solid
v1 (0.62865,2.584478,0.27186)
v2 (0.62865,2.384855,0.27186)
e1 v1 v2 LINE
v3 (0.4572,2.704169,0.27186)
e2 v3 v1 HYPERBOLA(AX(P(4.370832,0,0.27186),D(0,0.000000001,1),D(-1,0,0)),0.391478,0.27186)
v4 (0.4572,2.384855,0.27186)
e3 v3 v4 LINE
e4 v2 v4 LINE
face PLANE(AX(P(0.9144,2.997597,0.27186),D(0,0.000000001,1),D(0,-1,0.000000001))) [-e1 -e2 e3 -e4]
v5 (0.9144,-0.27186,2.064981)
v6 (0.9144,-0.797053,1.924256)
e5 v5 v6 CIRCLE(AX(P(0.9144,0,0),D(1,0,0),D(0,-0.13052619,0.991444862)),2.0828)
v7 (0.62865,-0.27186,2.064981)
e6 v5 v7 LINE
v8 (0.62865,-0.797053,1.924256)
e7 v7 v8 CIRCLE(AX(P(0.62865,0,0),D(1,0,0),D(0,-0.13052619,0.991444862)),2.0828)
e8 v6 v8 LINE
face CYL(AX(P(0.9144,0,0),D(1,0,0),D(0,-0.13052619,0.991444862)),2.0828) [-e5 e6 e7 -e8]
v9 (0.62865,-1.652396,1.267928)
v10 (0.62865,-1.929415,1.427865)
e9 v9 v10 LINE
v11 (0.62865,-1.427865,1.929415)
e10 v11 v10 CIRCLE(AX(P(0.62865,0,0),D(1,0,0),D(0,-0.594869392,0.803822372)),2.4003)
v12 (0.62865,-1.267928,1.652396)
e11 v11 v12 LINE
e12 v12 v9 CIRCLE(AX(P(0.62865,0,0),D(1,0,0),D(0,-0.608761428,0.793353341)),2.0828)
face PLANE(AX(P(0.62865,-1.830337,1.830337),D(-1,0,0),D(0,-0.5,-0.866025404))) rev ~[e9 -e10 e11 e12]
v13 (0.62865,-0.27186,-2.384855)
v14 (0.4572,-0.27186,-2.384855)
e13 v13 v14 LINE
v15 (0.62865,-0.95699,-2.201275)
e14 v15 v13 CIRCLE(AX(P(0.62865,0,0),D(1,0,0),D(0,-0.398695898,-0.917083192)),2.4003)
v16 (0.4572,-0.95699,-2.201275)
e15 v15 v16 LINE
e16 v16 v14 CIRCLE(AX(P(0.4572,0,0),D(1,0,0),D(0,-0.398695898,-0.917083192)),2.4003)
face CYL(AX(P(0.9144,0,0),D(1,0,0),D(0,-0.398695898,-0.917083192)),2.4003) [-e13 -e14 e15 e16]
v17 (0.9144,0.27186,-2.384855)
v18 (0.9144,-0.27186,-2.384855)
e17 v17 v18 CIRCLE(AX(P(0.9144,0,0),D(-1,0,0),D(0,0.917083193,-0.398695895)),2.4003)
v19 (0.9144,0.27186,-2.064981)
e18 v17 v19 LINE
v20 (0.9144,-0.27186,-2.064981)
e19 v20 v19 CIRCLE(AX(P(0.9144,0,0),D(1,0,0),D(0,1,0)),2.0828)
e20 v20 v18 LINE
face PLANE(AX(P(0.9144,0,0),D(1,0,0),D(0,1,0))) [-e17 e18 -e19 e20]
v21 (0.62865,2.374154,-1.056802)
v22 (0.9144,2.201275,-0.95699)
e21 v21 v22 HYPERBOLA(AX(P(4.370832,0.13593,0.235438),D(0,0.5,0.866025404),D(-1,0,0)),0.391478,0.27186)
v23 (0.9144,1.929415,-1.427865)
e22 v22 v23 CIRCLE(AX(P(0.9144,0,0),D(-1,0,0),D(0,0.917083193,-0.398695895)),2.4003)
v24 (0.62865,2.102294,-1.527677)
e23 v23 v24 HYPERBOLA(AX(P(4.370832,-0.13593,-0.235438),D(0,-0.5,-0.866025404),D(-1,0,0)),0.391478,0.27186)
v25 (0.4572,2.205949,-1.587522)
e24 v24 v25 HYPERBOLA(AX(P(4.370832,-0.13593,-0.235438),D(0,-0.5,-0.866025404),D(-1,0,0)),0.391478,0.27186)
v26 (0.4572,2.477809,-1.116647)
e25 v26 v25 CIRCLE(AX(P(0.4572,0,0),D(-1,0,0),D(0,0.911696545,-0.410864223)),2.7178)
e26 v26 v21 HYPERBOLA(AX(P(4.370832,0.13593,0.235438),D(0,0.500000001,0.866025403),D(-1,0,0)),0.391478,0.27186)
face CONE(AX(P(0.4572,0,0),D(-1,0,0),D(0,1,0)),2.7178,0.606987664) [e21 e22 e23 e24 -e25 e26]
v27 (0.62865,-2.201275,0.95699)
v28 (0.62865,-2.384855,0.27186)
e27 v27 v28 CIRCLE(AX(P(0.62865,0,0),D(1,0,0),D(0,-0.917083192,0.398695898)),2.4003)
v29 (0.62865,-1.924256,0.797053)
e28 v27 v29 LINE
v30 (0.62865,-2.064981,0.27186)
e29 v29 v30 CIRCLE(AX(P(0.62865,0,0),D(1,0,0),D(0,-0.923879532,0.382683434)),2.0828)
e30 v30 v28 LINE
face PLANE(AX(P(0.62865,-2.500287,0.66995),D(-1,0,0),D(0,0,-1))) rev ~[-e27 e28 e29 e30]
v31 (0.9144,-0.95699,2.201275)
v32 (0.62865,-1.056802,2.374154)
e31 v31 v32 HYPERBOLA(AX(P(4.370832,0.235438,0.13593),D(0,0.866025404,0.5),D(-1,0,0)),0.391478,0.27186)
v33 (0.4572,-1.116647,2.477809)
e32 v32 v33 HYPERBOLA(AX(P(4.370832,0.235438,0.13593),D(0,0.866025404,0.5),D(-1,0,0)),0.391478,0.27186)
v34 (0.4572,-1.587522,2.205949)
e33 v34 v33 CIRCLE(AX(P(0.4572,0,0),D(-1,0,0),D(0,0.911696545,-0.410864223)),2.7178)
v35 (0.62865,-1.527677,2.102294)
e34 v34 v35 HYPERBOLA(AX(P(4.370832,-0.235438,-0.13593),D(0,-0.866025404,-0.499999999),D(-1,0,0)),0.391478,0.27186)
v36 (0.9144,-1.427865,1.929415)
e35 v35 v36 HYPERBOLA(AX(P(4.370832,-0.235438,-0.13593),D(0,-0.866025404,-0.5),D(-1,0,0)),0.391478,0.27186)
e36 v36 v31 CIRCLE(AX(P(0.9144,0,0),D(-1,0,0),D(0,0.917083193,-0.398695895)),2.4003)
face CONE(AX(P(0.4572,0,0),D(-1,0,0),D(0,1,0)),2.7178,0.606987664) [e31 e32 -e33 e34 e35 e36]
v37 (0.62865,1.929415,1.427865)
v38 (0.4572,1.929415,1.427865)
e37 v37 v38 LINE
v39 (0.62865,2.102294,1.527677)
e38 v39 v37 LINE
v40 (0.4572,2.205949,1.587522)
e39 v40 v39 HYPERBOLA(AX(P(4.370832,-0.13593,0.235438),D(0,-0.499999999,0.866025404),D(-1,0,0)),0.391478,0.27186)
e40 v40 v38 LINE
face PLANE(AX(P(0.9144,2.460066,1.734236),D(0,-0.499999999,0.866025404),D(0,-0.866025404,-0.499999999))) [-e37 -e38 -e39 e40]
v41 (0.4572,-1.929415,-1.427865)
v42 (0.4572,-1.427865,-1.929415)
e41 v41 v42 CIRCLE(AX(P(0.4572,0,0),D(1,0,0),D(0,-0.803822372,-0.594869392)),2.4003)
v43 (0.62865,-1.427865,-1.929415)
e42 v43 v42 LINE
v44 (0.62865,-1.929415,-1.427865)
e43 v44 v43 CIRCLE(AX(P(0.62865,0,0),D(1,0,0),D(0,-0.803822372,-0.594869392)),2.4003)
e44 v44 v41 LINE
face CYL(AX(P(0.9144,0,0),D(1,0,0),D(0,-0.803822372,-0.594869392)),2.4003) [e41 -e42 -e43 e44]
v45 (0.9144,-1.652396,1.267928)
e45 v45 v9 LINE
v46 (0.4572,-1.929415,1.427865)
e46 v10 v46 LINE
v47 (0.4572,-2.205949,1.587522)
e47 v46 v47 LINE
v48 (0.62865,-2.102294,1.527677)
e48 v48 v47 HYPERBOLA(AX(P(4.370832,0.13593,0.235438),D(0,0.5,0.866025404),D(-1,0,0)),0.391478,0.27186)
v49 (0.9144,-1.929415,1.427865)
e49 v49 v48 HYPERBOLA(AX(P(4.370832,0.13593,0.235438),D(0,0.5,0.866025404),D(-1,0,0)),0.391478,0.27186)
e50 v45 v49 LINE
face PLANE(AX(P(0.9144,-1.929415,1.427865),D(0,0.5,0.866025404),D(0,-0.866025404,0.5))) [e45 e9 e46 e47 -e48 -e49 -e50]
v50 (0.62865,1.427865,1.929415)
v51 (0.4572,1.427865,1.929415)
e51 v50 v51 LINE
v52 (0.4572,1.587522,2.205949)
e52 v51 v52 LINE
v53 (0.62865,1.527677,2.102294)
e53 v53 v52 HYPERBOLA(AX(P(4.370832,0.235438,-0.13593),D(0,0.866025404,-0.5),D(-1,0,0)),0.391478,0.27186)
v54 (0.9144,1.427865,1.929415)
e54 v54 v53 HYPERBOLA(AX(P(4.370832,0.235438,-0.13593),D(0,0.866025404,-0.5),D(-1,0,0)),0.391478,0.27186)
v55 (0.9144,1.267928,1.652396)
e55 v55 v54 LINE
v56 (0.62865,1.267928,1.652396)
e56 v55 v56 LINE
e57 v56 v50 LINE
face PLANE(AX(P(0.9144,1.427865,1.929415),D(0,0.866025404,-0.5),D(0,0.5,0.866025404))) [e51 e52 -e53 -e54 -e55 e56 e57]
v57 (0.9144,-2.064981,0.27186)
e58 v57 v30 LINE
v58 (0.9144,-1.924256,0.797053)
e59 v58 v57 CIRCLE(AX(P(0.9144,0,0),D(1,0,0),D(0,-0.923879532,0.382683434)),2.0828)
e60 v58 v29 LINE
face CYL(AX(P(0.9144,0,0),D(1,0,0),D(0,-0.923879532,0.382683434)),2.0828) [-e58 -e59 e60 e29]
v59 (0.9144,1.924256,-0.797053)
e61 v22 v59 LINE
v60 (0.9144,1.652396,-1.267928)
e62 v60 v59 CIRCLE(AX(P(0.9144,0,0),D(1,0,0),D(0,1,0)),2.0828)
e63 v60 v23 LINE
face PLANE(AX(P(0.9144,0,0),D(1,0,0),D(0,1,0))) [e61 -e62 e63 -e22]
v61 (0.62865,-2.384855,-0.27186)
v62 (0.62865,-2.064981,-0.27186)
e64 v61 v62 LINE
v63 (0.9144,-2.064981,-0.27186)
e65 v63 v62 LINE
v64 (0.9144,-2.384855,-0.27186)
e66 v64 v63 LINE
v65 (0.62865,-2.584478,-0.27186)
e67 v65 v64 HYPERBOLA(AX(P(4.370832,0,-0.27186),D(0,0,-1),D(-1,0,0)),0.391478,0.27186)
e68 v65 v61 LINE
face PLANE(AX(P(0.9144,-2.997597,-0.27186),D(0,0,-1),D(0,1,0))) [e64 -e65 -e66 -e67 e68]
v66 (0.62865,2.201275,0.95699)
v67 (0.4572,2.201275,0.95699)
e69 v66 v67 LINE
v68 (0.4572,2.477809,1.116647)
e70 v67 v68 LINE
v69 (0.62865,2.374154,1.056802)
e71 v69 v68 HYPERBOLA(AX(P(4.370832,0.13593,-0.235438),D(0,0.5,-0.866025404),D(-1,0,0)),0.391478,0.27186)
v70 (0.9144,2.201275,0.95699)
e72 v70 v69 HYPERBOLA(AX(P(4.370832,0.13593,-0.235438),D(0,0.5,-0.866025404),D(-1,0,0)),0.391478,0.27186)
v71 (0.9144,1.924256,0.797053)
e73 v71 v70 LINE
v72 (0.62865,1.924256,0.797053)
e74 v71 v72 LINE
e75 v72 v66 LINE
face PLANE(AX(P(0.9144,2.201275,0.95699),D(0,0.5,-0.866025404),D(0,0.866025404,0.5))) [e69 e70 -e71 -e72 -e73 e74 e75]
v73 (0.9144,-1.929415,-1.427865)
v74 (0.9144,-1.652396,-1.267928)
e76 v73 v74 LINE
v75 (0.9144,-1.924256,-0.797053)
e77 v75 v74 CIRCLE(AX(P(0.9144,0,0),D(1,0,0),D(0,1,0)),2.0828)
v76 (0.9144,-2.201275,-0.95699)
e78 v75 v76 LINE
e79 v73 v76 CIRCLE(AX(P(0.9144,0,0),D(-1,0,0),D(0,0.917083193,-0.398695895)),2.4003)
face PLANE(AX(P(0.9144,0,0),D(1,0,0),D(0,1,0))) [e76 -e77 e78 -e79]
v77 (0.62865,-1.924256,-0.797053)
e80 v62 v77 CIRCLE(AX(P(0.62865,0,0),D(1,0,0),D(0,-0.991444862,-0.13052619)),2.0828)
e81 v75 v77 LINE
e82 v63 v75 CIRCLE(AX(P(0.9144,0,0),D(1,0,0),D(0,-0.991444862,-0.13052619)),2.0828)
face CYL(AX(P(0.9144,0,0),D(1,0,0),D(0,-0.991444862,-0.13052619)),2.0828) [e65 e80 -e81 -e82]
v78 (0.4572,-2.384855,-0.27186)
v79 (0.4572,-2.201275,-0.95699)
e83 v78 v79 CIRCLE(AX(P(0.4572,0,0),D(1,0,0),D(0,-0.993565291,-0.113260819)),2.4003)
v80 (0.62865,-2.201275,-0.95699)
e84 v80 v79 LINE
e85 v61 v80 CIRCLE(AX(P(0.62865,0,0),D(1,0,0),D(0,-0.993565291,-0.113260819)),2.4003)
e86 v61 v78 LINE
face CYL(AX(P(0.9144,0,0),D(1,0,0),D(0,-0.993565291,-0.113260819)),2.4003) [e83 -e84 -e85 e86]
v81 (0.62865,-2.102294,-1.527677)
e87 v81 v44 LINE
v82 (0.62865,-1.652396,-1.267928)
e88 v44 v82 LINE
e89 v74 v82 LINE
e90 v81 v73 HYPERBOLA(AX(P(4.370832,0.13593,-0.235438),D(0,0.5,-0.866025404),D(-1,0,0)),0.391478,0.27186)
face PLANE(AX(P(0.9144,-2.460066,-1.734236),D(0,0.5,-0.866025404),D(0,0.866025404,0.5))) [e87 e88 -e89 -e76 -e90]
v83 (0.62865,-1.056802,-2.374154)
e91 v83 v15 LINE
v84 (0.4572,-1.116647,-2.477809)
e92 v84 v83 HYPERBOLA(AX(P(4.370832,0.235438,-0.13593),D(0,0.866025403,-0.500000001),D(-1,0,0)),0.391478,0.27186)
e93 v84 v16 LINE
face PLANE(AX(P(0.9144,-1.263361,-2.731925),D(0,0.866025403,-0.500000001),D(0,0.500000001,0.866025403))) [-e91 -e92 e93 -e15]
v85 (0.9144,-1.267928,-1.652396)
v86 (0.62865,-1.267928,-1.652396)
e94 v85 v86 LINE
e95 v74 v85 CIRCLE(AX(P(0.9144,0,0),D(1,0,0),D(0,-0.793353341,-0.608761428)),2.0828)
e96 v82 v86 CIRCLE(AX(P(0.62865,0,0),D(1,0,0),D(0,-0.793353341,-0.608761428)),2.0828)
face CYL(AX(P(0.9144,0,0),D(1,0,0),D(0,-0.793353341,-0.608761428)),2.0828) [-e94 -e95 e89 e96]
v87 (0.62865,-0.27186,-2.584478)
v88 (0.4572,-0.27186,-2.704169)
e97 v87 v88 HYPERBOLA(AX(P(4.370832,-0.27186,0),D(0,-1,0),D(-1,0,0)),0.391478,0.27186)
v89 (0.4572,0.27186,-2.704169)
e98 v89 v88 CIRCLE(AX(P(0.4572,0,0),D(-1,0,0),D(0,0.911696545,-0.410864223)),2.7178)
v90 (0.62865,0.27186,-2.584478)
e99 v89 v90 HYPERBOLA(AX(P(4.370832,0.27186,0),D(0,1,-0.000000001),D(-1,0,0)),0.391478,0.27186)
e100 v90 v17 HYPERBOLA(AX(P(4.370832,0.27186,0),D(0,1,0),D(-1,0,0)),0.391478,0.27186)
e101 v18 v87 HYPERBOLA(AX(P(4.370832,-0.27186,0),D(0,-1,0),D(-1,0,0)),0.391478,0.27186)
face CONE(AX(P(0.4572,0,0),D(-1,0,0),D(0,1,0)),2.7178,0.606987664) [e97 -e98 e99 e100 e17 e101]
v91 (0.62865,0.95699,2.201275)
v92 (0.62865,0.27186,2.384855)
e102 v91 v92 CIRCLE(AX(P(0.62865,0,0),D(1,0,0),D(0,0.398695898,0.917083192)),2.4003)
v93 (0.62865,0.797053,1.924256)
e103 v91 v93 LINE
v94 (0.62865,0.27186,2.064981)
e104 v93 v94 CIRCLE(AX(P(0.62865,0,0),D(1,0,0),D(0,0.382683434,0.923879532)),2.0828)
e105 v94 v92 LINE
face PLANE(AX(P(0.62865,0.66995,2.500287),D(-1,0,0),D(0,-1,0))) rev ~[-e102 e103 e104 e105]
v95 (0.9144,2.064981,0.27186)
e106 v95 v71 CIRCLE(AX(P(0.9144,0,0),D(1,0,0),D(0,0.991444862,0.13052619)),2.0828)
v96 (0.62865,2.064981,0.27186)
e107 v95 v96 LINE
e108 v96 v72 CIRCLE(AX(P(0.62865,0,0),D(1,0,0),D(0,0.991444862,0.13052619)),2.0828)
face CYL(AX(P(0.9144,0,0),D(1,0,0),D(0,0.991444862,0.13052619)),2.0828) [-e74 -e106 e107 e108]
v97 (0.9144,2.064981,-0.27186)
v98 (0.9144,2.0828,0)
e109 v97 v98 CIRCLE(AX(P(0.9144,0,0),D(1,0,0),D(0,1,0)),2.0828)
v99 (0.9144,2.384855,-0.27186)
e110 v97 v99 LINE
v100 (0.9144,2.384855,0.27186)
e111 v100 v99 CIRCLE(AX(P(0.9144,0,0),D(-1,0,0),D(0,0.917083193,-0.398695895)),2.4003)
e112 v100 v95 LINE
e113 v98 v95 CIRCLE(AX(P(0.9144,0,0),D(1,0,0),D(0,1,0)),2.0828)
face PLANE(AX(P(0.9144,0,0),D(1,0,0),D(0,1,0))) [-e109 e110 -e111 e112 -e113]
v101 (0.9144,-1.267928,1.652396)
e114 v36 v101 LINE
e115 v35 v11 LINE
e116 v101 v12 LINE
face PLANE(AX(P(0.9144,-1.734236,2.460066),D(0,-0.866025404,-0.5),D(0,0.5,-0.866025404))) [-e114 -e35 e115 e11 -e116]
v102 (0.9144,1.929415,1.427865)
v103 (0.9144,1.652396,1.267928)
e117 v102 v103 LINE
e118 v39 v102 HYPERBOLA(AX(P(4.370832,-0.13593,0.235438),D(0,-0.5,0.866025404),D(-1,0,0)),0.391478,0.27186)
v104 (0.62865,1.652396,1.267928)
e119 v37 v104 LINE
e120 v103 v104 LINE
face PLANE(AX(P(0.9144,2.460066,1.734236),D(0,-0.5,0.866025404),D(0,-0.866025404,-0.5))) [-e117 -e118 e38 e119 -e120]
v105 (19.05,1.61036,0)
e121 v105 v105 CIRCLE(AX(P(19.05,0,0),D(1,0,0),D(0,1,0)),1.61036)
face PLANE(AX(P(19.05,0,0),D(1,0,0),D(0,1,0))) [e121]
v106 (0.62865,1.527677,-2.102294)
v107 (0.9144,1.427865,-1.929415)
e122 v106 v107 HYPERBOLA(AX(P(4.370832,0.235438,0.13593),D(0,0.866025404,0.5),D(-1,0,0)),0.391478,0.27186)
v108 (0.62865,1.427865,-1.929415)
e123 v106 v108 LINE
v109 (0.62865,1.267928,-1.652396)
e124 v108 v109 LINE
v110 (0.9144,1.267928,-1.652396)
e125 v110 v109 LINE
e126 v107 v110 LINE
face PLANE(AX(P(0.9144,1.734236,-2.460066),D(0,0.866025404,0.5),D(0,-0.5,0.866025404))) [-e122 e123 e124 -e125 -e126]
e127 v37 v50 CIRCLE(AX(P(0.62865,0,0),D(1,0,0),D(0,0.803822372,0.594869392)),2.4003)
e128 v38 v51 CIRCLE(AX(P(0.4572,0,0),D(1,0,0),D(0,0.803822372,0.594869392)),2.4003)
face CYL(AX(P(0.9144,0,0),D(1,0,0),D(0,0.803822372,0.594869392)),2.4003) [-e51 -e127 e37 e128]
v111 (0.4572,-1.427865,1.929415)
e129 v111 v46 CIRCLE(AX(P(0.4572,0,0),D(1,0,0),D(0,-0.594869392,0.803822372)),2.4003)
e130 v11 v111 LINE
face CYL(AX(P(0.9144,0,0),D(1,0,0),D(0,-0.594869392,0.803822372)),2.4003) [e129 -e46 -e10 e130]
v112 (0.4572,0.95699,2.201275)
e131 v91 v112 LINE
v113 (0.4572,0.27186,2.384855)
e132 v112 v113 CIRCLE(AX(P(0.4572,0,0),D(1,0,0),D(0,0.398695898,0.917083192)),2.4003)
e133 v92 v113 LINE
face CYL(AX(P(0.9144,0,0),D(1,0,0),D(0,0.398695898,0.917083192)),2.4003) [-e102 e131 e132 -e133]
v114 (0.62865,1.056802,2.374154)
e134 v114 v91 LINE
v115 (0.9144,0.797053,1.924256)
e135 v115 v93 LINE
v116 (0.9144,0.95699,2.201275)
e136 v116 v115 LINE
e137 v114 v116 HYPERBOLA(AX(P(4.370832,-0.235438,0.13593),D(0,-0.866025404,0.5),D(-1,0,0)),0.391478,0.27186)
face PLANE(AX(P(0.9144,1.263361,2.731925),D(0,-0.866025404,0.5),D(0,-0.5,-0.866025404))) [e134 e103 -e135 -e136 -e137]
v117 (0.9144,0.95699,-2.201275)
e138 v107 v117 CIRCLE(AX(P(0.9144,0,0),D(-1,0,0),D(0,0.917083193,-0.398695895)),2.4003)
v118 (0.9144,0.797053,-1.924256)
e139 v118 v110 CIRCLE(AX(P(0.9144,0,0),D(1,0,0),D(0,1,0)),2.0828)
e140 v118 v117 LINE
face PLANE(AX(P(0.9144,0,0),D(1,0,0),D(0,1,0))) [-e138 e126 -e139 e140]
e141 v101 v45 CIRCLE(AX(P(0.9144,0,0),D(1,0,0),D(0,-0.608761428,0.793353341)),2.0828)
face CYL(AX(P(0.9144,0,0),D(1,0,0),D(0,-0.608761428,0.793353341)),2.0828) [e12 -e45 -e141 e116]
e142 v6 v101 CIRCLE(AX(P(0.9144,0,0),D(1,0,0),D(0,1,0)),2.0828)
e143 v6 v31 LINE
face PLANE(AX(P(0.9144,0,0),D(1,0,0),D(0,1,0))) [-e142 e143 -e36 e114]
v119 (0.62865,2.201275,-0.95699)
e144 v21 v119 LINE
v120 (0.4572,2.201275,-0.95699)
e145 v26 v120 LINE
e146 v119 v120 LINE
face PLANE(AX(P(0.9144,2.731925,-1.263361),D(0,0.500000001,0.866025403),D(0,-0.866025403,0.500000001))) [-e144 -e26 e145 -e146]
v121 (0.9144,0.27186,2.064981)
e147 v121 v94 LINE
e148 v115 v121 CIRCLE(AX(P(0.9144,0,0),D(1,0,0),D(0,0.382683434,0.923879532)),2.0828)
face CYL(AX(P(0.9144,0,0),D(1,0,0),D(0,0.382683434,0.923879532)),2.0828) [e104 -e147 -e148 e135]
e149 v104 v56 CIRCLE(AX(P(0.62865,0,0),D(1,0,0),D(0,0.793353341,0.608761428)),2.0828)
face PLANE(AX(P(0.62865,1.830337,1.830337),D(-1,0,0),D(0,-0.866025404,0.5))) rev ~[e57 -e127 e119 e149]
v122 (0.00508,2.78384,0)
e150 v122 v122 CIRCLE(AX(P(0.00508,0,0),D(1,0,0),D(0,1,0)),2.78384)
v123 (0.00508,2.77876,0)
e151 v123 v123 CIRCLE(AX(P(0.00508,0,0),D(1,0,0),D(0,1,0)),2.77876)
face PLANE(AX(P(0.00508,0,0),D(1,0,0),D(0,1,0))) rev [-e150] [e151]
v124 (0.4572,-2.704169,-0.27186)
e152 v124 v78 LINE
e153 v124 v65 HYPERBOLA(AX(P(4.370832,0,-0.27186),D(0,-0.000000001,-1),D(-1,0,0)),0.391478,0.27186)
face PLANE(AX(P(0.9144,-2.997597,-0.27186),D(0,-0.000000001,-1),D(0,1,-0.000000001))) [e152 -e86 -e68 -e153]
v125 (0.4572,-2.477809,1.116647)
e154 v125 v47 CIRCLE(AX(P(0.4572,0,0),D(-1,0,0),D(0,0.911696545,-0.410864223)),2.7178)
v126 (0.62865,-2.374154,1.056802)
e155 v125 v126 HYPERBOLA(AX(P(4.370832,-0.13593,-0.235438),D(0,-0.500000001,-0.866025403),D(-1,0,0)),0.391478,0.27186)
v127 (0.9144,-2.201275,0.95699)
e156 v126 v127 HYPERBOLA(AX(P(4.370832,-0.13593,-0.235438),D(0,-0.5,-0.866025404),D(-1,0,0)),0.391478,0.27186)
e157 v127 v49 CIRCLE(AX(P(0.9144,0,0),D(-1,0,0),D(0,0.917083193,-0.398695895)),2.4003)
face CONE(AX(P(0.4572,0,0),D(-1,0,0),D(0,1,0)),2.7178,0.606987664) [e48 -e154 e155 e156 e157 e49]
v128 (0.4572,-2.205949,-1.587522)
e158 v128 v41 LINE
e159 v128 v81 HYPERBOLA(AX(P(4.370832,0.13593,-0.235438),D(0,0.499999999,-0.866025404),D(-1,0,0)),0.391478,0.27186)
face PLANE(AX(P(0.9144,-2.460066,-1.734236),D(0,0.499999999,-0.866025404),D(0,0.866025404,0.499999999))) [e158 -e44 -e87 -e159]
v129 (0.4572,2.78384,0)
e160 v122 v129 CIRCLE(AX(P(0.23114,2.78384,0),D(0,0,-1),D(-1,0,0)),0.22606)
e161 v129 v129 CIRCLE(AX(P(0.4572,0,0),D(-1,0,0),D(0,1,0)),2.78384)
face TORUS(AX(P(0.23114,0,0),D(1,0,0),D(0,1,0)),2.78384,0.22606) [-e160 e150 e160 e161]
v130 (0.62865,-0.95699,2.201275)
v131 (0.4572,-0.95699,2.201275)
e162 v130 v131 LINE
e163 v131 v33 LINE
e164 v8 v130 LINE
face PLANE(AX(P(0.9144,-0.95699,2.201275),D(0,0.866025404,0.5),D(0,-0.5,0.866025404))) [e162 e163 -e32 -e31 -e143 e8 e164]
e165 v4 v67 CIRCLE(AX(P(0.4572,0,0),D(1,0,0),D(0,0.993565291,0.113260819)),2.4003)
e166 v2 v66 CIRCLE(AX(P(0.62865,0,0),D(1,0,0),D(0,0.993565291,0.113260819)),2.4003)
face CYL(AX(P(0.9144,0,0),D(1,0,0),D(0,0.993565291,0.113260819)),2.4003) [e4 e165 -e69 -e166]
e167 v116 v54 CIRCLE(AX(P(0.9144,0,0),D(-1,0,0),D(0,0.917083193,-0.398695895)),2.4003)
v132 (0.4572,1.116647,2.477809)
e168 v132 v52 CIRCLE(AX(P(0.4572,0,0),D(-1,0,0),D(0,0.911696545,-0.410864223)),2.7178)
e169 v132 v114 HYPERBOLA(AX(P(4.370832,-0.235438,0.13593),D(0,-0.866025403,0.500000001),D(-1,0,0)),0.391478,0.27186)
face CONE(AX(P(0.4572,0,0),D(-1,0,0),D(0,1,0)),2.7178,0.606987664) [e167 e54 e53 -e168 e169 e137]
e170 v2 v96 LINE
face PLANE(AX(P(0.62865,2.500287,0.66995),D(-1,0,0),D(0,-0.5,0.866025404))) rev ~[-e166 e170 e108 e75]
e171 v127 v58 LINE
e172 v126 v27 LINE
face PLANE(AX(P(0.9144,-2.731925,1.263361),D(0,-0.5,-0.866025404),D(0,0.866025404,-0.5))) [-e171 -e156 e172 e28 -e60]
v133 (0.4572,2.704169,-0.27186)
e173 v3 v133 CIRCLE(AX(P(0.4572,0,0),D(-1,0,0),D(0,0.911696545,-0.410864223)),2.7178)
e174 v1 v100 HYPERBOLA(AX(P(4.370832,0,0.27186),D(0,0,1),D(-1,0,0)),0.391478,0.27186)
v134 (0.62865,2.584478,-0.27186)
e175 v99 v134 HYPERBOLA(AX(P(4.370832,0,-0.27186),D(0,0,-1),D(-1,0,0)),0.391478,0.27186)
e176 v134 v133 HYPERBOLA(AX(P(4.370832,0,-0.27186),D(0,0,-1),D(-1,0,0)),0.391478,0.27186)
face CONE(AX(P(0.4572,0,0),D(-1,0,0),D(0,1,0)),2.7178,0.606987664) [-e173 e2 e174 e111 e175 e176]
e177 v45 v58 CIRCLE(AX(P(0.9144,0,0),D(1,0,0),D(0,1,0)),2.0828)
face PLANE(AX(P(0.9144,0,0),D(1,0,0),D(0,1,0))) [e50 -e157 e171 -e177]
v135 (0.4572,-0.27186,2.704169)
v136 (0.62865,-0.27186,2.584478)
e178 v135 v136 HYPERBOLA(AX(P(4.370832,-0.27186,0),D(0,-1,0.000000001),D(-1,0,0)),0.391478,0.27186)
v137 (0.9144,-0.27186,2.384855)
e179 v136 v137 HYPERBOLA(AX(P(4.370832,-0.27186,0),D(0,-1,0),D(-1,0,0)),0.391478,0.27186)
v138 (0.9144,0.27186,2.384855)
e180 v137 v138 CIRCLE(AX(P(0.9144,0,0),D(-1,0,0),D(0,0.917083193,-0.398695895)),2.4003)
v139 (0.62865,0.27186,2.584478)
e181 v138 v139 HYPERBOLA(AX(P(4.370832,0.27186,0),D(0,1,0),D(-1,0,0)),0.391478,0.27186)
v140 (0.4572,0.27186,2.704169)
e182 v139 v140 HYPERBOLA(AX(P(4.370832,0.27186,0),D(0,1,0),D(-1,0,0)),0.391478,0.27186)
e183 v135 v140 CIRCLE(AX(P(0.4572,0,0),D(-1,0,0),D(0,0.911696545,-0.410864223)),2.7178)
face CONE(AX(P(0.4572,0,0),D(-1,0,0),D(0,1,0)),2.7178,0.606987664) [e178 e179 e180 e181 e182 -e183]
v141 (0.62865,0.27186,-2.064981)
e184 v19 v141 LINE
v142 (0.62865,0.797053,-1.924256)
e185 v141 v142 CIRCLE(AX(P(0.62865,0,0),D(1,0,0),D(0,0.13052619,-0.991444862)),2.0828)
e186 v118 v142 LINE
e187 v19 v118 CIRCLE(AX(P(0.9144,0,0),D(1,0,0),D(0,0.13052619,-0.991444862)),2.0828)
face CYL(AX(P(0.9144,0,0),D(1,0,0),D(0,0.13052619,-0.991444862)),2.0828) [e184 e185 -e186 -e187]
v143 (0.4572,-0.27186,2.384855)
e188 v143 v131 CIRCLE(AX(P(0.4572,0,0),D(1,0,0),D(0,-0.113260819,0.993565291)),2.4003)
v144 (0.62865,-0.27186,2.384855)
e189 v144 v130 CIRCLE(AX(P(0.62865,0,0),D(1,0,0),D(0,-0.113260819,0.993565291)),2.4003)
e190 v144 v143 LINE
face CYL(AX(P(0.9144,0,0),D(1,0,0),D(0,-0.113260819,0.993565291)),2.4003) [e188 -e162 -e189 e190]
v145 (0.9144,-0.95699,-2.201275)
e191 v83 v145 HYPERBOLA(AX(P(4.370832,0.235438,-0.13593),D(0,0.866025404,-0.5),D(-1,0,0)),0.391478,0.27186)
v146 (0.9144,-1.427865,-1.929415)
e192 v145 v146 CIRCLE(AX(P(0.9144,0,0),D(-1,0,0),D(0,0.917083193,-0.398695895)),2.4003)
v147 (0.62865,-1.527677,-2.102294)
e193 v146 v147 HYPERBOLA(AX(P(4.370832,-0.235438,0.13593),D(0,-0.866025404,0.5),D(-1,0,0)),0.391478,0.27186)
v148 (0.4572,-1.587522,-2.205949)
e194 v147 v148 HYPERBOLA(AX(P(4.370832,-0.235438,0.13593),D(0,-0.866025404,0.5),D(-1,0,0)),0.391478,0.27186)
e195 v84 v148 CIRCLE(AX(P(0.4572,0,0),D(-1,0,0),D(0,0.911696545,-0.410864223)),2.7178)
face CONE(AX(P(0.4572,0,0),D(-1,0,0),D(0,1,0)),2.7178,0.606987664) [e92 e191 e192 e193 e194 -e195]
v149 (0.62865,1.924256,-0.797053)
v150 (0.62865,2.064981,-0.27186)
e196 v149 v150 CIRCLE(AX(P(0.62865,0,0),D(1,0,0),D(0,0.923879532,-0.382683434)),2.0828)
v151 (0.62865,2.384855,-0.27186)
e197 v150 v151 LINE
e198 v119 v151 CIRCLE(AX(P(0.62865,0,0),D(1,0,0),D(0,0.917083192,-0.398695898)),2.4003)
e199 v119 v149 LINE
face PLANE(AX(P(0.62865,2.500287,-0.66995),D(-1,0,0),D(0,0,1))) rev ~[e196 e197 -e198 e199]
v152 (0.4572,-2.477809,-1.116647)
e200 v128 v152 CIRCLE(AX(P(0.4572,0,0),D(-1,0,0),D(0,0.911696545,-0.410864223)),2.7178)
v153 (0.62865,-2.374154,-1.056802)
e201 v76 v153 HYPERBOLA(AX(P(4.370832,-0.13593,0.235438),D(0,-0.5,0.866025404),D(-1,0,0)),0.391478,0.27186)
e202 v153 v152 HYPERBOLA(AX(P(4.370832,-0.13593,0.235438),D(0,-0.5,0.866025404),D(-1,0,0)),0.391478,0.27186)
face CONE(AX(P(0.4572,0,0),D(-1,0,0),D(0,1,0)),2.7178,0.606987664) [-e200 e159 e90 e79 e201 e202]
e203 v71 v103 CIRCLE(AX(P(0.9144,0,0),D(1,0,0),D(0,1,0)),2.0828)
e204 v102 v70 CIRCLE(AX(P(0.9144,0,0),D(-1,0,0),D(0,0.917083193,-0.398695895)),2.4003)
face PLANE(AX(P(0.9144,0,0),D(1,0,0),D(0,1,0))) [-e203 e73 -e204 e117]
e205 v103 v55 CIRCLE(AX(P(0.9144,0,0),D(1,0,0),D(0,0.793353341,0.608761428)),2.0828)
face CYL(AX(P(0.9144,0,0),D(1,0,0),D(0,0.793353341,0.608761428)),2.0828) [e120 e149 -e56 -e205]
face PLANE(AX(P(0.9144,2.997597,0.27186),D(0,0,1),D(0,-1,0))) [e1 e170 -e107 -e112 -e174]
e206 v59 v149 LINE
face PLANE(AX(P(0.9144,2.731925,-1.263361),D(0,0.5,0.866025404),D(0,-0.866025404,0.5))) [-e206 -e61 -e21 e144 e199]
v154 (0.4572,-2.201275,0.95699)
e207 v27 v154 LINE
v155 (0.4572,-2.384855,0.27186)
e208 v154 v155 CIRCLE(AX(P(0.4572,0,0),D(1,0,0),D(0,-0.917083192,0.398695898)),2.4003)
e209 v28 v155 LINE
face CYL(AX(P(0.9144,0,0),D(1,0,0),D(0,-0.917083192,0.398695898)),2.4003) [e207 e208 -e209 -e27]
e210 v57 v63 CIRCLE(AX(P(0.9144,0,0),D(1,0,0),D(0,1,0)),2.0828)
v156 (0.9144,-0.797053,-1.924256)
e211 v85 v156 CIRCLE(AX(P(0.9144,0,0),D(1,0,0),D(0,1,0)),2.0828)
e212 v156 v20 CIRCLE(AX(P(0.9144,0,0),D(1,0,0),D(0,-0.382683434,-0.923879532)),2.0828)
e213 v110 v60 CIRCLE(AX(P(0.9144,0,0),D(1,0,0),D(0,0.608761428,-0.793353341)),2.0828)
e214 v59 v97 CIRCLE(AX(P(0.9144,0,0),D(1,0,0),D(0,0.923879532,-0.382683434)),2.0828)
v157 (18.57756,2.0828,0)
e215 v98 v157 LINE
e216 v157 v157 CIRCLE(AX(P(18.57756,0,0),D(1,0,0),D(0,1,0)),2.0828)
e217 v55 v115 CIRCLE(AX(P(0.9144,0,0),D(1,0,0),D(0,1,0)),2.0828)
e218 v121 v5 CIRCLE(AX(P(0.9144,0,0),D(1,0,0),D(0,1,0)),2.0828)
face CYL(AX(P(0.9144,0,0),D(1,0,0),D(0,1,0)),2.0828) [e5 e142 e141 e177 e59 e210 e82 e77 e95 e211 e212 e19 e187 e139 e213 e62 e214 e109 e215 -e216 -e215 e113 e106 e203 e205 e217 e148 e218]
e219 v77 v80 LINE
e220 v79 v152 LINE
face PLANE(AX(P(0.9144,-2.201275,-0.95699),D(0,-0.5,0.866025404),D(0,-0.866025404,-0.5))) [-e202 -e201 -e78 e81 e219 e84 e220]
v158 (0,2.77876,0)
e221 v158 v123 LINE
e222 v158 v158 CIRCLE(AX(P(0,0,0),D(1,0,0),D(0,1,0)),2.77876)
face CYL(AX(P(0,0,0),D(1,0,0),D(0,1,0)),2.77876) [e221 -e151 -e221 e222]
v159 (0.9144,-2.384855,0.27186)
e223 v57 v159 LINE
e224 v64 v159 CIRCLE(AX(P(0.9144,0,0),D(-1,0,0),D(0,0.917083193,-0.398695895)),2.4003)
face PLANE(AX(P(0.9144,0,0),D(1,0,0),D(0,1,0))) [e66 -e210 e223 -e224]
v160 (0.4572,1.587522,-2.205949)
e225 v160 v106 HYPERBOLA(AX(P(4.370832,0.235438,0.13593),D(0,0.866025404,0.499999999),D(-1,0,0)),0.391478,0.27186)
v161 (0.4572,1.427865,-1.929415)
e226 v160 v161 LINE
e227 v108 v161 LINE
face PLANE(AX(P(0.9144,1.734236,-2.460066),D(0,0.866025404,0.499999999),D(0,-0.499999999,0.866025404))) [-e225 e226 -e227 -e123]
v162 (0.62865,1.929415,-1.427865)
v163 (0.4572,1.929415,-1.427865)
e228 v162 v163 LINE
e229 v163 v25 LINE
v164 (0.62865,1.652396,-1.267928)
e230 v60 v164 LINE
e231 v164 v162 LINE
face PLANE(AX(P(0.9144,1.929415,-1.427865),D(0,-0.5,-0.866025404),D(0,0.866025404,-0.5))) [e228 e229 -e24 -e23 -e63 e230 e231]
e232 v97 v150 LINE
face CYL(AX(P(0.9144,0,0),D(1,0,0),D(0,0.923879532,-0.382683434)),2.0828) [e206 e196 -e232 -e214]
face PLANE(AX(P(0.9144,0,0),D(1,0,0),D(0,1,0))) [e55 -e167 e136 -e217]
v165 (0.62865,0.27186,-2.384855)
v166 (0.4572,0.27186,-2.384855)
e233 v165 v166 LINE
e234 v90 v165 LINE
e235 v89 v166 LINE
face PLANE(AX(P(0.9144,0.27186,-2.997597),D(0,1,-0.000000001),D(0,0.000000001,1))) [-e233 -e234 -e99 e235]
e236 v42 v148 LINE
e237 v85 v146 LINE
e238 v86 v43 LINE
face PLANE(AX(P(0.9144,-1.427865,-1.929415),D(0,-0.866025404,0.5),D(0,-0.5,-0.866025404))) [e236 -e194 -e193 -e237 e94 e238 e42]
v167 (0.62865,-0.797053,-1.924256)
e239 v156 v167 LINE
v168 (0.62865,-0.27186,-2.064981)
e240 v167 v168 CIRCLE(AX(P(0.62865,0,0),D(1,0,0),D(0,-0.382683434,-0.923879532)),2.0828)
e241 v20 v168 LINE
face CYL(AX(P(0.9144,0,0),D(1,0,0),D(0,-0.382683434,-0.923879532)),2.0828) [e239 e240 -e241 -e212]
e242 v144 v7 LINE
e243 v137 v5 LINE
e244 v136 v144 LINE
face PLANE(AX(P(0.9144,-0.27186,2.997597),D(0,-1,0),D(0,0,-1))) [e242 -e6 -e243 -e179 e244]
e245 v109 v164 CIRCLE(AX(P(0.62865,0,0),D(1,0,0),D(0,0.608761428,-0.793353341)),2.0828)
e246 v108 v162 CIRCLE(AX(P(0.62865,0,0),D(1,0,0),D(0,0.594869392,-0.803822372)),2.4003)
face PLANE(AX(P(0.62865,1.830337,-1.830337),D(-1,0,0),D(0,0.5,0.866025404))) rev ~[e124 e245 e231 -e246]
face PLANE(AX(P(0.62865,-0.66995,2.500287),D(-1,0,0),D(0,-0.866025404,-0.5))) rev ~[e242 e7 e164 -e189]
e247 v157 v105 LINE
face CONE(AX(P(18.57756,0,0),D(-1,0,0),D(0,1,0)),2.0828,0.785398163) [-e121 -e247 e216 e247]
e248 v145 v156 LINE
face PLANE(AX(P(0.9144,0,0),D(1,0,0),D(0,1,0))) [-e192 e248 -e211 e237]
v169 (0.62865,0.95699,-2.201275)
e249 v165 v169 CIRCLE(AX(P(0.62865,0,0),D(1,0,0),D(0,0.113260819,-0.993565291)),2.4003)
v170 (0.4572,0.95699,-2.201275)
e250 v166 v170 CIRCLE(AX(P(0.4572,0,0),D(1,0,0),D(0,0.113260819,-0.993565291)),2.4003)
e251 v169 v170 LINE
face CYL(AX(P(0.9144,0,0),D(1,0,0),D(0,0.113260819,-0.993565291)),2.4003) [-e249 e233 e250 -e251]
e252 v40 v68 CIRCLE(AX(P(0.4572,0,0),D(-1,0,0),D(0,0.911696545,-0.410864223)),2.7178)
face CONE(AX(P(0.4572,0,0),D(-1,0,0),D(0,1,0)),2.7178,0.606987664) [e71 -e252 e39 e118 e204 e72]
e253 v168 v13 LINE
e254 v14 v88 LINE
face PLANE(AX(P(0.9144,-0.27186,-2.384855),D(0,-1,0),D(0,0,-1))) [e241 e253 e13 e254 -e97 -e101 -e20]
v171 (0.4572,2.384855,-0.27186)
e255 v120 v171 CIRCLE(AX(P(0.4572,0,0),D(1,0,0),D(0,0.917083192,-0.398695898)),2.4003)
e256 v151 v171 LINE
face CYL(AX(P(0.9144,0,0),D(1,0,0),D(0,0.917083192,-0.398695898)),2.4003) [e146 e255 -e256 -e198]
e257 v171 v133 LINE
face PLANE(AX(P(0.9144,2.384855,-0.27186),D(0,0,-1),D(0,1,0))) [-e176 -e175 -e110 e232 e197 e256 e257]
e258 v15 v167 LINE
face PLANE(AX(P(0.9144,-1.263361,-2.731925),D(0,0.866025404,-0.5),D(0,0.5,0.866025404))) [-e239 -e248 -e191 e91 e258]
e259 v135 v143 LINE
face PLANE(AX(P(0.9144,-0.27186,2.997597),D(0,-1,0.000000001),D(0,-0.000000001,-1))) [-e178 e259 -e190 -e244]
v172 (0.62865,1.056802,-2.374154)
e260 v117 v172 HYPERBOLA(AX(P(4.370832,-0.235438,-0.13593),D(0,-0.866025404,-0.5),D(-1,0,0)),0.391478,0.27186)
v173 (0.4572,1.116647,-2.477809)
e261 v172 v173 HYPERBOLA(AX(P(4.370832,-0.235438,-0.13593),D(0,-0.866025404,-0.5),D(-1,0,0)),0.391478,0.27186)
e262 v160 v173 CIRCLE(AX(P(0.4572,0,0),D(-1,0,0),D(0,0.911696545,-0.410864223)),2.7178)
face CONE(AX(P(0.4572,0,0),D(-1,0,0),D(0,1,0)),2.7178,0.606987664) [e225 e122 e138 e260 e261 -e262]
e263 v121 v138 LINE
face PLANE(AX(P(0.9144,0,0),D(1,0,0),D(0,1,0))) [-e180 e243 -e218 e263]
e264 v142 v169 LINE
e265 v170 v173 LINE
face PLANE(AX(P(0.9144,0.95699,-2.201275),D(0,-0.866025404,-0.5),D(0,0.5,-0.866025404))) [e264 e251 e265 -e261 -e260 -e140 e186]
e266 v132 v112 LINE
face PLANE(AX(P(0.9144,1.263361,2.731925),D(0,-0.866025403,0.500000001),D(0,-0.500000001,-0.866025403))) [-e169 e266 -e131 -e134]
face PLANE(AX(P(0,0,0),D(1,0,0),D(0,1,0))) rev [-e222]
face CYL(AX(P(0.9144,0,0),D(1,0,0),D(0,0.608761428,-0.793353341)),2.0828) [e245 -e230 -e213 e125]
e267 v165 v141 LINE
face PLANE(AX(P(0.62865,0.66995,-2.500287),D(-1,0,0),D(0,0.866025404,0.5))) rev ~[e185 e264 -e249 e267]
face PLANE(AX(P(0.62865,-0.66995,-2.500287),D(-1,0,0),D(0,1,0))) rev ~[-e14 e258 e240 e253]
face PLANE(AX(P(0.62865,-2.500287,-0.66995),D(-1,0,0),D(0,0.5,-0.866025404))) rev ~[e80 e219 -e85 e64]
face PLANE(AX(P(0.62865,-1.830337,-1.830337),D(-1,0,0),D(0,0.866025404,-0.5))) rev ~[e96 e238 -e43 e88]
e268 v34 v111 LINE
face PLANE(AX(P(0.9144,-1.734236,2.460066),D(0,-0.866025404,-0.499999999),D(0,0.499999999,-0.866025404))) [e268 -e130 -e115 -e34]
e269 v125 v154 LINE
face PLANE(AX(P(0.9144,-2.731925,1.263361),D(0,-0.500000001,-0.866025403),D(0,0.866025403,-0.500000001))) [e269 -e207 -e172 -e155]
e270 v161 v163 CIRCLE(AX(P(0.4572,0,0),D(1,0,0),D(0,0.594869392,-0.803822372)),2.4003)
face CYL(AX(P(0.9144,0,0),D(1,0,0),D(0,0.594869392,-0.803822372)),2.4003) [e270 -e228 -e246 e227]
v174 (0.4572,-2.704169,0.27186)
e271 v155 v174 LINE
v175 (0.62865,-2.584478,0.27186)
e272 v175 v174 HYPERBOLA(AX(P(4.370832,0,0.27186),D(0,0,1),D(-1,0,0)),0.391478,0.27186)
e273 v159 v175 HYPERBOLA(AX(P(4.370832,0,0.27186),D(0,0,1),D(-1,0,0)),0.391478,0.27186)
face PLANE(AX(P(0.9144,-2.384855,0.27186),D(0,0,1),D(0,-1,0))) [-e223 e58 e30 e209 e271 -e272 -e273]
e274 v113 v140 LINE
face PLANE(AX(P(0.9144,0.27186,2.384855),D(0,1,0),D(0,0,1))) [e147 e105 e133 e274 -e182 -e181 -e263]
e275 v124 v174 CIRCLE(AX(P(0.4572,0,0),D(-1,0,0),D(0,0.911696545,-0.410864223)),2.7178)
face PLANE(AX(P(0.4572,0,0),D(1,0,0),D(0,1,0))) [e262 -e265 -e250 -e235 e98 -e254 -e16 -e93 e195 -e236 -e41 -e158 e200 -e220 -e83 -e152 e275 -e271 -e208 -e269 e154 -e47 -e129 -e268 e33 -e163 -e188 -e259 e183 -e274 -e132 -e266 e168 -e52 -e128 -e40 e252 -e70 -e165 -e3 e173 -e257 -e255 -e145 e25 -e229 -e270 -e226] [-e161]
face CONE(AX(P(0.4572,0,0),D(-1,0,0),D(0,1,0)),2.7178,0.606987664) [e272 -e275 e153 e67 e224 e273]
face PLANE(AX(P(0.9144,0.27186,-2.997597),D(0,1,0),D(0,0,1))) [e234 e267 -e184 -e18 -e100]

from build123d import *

# Parameters (mm, degrees)
RIBCUT1_DEPTH    = 0.28575
RIBCUT2_DEPTH    = 0.4572
RIBCUTSPAT_COUNT = 12
RIBCUTSPAT_ANGLE = 330


with BuildPart() as part:
    # BodySke → BaseBody (revolve)
    with BuildSketch(Plane.XY):
        with BuildLine():
            Line((0, 0), (0, 2.77876))
            Line((0, 2.77876), (0.00508, 2.77876))
            Line((0.00508, 2.77876), (0.00508, 2.78384))
            ThreePointArc((0.00508, 2.78384), (0.23114, 3.0099), (0.4572, 2.78384))
            Line((0.4572, 2.78384), (0.4572, 2.7178))
            Line((0.4572, 2.7178), (0.9144, 2.4003))
            Line((0.9144, 2.4003), (0.9144, 2.0828))
            Line((0.9144, 2.0828), (18.57756, 2.0828))
            Line((18.57756, 2.0828), (19.05, 1.61036))
            Line((19.05, 1.61036), (19.05, 0))
            Line((19.05, 0), (0, 0))
        make_face()
    revolve(axis=Axis((0, 0, 0), (1, 0, 0)))

    # RibCut1Ske → RibCut1 (cut)
    with BuildSketch(Plane(origin=(0.9144, 0, 0), x_dir=(0, 0, -1), z_dir=(1, 0, 0))):
        with BuildLine():
            Line((0.271859953, 2.064981357), (0.271859953, 2.997597401))
            ThreePointArc((0.271859953, 2.997597401), (0.779019444, 2.907340145), (1.263361075, 2.731925476))
            Line((1.263361075, 2.731925476), (0.797053053, 1.92425629))
            ThreePointArc((0.797053053, 1.92425629), (0.539068307, 2.011830311), (0.271859953, 2.064981357))
        make_face()
    ribcut1 = extrude(amount=-RIBCUT1_DEPTH, mode=Mode.SUBTRACT)

    # RibCut2Ske → RibCut2 (cut)
    with BuildSketch(Plane(origin=(0.9144, 0, 0), x_dir=(0, 0, -1), z_dir=(1, 0, 0))):
        with BuildLine():
            Line((0.271859953, 2.384854766), (0.271859953, 2.997597401))
            ThreePointArc((0.271859953, 2.997597401), (0.779019444, 2.907340145), (1.263361075, 2.731925476))
            Line((1.263361075, 2.731925476), (0.956989757, 2.201274788))
            ThreePointArc((0.956989757, 2.201274788), (0.621243354, 2.318511761), (0.271859953, 2.384854766))
        make_face()
    ribcut2 = extrude(amount=-RIBCUT2_DEPTH, mode=Mode.SUBTRACT)

    # RibCutsPat: RibCut1, RibCut2 ×12 about axis
    ribcutspat_axis = Axis((0, 0, 0), (1, 0, 0))
    for i in range(1, RIBCUTSPAT_COUNT):
        add(ribcut1.rotate(ribcutspat_axis, i * RIBCUTSPAT_ANGLE / (RIBCUTSPAT_COUNT - 1)), mode=Mode.SUBTRACT)
        add(ribcut2.rotate(ribcutspat_axis, i * RIBCUTSPAT_ANGLE / (RIBCUTSPAT_COUNT - 1)), mode=Mode.SUBTRACT)


solid = part.part
